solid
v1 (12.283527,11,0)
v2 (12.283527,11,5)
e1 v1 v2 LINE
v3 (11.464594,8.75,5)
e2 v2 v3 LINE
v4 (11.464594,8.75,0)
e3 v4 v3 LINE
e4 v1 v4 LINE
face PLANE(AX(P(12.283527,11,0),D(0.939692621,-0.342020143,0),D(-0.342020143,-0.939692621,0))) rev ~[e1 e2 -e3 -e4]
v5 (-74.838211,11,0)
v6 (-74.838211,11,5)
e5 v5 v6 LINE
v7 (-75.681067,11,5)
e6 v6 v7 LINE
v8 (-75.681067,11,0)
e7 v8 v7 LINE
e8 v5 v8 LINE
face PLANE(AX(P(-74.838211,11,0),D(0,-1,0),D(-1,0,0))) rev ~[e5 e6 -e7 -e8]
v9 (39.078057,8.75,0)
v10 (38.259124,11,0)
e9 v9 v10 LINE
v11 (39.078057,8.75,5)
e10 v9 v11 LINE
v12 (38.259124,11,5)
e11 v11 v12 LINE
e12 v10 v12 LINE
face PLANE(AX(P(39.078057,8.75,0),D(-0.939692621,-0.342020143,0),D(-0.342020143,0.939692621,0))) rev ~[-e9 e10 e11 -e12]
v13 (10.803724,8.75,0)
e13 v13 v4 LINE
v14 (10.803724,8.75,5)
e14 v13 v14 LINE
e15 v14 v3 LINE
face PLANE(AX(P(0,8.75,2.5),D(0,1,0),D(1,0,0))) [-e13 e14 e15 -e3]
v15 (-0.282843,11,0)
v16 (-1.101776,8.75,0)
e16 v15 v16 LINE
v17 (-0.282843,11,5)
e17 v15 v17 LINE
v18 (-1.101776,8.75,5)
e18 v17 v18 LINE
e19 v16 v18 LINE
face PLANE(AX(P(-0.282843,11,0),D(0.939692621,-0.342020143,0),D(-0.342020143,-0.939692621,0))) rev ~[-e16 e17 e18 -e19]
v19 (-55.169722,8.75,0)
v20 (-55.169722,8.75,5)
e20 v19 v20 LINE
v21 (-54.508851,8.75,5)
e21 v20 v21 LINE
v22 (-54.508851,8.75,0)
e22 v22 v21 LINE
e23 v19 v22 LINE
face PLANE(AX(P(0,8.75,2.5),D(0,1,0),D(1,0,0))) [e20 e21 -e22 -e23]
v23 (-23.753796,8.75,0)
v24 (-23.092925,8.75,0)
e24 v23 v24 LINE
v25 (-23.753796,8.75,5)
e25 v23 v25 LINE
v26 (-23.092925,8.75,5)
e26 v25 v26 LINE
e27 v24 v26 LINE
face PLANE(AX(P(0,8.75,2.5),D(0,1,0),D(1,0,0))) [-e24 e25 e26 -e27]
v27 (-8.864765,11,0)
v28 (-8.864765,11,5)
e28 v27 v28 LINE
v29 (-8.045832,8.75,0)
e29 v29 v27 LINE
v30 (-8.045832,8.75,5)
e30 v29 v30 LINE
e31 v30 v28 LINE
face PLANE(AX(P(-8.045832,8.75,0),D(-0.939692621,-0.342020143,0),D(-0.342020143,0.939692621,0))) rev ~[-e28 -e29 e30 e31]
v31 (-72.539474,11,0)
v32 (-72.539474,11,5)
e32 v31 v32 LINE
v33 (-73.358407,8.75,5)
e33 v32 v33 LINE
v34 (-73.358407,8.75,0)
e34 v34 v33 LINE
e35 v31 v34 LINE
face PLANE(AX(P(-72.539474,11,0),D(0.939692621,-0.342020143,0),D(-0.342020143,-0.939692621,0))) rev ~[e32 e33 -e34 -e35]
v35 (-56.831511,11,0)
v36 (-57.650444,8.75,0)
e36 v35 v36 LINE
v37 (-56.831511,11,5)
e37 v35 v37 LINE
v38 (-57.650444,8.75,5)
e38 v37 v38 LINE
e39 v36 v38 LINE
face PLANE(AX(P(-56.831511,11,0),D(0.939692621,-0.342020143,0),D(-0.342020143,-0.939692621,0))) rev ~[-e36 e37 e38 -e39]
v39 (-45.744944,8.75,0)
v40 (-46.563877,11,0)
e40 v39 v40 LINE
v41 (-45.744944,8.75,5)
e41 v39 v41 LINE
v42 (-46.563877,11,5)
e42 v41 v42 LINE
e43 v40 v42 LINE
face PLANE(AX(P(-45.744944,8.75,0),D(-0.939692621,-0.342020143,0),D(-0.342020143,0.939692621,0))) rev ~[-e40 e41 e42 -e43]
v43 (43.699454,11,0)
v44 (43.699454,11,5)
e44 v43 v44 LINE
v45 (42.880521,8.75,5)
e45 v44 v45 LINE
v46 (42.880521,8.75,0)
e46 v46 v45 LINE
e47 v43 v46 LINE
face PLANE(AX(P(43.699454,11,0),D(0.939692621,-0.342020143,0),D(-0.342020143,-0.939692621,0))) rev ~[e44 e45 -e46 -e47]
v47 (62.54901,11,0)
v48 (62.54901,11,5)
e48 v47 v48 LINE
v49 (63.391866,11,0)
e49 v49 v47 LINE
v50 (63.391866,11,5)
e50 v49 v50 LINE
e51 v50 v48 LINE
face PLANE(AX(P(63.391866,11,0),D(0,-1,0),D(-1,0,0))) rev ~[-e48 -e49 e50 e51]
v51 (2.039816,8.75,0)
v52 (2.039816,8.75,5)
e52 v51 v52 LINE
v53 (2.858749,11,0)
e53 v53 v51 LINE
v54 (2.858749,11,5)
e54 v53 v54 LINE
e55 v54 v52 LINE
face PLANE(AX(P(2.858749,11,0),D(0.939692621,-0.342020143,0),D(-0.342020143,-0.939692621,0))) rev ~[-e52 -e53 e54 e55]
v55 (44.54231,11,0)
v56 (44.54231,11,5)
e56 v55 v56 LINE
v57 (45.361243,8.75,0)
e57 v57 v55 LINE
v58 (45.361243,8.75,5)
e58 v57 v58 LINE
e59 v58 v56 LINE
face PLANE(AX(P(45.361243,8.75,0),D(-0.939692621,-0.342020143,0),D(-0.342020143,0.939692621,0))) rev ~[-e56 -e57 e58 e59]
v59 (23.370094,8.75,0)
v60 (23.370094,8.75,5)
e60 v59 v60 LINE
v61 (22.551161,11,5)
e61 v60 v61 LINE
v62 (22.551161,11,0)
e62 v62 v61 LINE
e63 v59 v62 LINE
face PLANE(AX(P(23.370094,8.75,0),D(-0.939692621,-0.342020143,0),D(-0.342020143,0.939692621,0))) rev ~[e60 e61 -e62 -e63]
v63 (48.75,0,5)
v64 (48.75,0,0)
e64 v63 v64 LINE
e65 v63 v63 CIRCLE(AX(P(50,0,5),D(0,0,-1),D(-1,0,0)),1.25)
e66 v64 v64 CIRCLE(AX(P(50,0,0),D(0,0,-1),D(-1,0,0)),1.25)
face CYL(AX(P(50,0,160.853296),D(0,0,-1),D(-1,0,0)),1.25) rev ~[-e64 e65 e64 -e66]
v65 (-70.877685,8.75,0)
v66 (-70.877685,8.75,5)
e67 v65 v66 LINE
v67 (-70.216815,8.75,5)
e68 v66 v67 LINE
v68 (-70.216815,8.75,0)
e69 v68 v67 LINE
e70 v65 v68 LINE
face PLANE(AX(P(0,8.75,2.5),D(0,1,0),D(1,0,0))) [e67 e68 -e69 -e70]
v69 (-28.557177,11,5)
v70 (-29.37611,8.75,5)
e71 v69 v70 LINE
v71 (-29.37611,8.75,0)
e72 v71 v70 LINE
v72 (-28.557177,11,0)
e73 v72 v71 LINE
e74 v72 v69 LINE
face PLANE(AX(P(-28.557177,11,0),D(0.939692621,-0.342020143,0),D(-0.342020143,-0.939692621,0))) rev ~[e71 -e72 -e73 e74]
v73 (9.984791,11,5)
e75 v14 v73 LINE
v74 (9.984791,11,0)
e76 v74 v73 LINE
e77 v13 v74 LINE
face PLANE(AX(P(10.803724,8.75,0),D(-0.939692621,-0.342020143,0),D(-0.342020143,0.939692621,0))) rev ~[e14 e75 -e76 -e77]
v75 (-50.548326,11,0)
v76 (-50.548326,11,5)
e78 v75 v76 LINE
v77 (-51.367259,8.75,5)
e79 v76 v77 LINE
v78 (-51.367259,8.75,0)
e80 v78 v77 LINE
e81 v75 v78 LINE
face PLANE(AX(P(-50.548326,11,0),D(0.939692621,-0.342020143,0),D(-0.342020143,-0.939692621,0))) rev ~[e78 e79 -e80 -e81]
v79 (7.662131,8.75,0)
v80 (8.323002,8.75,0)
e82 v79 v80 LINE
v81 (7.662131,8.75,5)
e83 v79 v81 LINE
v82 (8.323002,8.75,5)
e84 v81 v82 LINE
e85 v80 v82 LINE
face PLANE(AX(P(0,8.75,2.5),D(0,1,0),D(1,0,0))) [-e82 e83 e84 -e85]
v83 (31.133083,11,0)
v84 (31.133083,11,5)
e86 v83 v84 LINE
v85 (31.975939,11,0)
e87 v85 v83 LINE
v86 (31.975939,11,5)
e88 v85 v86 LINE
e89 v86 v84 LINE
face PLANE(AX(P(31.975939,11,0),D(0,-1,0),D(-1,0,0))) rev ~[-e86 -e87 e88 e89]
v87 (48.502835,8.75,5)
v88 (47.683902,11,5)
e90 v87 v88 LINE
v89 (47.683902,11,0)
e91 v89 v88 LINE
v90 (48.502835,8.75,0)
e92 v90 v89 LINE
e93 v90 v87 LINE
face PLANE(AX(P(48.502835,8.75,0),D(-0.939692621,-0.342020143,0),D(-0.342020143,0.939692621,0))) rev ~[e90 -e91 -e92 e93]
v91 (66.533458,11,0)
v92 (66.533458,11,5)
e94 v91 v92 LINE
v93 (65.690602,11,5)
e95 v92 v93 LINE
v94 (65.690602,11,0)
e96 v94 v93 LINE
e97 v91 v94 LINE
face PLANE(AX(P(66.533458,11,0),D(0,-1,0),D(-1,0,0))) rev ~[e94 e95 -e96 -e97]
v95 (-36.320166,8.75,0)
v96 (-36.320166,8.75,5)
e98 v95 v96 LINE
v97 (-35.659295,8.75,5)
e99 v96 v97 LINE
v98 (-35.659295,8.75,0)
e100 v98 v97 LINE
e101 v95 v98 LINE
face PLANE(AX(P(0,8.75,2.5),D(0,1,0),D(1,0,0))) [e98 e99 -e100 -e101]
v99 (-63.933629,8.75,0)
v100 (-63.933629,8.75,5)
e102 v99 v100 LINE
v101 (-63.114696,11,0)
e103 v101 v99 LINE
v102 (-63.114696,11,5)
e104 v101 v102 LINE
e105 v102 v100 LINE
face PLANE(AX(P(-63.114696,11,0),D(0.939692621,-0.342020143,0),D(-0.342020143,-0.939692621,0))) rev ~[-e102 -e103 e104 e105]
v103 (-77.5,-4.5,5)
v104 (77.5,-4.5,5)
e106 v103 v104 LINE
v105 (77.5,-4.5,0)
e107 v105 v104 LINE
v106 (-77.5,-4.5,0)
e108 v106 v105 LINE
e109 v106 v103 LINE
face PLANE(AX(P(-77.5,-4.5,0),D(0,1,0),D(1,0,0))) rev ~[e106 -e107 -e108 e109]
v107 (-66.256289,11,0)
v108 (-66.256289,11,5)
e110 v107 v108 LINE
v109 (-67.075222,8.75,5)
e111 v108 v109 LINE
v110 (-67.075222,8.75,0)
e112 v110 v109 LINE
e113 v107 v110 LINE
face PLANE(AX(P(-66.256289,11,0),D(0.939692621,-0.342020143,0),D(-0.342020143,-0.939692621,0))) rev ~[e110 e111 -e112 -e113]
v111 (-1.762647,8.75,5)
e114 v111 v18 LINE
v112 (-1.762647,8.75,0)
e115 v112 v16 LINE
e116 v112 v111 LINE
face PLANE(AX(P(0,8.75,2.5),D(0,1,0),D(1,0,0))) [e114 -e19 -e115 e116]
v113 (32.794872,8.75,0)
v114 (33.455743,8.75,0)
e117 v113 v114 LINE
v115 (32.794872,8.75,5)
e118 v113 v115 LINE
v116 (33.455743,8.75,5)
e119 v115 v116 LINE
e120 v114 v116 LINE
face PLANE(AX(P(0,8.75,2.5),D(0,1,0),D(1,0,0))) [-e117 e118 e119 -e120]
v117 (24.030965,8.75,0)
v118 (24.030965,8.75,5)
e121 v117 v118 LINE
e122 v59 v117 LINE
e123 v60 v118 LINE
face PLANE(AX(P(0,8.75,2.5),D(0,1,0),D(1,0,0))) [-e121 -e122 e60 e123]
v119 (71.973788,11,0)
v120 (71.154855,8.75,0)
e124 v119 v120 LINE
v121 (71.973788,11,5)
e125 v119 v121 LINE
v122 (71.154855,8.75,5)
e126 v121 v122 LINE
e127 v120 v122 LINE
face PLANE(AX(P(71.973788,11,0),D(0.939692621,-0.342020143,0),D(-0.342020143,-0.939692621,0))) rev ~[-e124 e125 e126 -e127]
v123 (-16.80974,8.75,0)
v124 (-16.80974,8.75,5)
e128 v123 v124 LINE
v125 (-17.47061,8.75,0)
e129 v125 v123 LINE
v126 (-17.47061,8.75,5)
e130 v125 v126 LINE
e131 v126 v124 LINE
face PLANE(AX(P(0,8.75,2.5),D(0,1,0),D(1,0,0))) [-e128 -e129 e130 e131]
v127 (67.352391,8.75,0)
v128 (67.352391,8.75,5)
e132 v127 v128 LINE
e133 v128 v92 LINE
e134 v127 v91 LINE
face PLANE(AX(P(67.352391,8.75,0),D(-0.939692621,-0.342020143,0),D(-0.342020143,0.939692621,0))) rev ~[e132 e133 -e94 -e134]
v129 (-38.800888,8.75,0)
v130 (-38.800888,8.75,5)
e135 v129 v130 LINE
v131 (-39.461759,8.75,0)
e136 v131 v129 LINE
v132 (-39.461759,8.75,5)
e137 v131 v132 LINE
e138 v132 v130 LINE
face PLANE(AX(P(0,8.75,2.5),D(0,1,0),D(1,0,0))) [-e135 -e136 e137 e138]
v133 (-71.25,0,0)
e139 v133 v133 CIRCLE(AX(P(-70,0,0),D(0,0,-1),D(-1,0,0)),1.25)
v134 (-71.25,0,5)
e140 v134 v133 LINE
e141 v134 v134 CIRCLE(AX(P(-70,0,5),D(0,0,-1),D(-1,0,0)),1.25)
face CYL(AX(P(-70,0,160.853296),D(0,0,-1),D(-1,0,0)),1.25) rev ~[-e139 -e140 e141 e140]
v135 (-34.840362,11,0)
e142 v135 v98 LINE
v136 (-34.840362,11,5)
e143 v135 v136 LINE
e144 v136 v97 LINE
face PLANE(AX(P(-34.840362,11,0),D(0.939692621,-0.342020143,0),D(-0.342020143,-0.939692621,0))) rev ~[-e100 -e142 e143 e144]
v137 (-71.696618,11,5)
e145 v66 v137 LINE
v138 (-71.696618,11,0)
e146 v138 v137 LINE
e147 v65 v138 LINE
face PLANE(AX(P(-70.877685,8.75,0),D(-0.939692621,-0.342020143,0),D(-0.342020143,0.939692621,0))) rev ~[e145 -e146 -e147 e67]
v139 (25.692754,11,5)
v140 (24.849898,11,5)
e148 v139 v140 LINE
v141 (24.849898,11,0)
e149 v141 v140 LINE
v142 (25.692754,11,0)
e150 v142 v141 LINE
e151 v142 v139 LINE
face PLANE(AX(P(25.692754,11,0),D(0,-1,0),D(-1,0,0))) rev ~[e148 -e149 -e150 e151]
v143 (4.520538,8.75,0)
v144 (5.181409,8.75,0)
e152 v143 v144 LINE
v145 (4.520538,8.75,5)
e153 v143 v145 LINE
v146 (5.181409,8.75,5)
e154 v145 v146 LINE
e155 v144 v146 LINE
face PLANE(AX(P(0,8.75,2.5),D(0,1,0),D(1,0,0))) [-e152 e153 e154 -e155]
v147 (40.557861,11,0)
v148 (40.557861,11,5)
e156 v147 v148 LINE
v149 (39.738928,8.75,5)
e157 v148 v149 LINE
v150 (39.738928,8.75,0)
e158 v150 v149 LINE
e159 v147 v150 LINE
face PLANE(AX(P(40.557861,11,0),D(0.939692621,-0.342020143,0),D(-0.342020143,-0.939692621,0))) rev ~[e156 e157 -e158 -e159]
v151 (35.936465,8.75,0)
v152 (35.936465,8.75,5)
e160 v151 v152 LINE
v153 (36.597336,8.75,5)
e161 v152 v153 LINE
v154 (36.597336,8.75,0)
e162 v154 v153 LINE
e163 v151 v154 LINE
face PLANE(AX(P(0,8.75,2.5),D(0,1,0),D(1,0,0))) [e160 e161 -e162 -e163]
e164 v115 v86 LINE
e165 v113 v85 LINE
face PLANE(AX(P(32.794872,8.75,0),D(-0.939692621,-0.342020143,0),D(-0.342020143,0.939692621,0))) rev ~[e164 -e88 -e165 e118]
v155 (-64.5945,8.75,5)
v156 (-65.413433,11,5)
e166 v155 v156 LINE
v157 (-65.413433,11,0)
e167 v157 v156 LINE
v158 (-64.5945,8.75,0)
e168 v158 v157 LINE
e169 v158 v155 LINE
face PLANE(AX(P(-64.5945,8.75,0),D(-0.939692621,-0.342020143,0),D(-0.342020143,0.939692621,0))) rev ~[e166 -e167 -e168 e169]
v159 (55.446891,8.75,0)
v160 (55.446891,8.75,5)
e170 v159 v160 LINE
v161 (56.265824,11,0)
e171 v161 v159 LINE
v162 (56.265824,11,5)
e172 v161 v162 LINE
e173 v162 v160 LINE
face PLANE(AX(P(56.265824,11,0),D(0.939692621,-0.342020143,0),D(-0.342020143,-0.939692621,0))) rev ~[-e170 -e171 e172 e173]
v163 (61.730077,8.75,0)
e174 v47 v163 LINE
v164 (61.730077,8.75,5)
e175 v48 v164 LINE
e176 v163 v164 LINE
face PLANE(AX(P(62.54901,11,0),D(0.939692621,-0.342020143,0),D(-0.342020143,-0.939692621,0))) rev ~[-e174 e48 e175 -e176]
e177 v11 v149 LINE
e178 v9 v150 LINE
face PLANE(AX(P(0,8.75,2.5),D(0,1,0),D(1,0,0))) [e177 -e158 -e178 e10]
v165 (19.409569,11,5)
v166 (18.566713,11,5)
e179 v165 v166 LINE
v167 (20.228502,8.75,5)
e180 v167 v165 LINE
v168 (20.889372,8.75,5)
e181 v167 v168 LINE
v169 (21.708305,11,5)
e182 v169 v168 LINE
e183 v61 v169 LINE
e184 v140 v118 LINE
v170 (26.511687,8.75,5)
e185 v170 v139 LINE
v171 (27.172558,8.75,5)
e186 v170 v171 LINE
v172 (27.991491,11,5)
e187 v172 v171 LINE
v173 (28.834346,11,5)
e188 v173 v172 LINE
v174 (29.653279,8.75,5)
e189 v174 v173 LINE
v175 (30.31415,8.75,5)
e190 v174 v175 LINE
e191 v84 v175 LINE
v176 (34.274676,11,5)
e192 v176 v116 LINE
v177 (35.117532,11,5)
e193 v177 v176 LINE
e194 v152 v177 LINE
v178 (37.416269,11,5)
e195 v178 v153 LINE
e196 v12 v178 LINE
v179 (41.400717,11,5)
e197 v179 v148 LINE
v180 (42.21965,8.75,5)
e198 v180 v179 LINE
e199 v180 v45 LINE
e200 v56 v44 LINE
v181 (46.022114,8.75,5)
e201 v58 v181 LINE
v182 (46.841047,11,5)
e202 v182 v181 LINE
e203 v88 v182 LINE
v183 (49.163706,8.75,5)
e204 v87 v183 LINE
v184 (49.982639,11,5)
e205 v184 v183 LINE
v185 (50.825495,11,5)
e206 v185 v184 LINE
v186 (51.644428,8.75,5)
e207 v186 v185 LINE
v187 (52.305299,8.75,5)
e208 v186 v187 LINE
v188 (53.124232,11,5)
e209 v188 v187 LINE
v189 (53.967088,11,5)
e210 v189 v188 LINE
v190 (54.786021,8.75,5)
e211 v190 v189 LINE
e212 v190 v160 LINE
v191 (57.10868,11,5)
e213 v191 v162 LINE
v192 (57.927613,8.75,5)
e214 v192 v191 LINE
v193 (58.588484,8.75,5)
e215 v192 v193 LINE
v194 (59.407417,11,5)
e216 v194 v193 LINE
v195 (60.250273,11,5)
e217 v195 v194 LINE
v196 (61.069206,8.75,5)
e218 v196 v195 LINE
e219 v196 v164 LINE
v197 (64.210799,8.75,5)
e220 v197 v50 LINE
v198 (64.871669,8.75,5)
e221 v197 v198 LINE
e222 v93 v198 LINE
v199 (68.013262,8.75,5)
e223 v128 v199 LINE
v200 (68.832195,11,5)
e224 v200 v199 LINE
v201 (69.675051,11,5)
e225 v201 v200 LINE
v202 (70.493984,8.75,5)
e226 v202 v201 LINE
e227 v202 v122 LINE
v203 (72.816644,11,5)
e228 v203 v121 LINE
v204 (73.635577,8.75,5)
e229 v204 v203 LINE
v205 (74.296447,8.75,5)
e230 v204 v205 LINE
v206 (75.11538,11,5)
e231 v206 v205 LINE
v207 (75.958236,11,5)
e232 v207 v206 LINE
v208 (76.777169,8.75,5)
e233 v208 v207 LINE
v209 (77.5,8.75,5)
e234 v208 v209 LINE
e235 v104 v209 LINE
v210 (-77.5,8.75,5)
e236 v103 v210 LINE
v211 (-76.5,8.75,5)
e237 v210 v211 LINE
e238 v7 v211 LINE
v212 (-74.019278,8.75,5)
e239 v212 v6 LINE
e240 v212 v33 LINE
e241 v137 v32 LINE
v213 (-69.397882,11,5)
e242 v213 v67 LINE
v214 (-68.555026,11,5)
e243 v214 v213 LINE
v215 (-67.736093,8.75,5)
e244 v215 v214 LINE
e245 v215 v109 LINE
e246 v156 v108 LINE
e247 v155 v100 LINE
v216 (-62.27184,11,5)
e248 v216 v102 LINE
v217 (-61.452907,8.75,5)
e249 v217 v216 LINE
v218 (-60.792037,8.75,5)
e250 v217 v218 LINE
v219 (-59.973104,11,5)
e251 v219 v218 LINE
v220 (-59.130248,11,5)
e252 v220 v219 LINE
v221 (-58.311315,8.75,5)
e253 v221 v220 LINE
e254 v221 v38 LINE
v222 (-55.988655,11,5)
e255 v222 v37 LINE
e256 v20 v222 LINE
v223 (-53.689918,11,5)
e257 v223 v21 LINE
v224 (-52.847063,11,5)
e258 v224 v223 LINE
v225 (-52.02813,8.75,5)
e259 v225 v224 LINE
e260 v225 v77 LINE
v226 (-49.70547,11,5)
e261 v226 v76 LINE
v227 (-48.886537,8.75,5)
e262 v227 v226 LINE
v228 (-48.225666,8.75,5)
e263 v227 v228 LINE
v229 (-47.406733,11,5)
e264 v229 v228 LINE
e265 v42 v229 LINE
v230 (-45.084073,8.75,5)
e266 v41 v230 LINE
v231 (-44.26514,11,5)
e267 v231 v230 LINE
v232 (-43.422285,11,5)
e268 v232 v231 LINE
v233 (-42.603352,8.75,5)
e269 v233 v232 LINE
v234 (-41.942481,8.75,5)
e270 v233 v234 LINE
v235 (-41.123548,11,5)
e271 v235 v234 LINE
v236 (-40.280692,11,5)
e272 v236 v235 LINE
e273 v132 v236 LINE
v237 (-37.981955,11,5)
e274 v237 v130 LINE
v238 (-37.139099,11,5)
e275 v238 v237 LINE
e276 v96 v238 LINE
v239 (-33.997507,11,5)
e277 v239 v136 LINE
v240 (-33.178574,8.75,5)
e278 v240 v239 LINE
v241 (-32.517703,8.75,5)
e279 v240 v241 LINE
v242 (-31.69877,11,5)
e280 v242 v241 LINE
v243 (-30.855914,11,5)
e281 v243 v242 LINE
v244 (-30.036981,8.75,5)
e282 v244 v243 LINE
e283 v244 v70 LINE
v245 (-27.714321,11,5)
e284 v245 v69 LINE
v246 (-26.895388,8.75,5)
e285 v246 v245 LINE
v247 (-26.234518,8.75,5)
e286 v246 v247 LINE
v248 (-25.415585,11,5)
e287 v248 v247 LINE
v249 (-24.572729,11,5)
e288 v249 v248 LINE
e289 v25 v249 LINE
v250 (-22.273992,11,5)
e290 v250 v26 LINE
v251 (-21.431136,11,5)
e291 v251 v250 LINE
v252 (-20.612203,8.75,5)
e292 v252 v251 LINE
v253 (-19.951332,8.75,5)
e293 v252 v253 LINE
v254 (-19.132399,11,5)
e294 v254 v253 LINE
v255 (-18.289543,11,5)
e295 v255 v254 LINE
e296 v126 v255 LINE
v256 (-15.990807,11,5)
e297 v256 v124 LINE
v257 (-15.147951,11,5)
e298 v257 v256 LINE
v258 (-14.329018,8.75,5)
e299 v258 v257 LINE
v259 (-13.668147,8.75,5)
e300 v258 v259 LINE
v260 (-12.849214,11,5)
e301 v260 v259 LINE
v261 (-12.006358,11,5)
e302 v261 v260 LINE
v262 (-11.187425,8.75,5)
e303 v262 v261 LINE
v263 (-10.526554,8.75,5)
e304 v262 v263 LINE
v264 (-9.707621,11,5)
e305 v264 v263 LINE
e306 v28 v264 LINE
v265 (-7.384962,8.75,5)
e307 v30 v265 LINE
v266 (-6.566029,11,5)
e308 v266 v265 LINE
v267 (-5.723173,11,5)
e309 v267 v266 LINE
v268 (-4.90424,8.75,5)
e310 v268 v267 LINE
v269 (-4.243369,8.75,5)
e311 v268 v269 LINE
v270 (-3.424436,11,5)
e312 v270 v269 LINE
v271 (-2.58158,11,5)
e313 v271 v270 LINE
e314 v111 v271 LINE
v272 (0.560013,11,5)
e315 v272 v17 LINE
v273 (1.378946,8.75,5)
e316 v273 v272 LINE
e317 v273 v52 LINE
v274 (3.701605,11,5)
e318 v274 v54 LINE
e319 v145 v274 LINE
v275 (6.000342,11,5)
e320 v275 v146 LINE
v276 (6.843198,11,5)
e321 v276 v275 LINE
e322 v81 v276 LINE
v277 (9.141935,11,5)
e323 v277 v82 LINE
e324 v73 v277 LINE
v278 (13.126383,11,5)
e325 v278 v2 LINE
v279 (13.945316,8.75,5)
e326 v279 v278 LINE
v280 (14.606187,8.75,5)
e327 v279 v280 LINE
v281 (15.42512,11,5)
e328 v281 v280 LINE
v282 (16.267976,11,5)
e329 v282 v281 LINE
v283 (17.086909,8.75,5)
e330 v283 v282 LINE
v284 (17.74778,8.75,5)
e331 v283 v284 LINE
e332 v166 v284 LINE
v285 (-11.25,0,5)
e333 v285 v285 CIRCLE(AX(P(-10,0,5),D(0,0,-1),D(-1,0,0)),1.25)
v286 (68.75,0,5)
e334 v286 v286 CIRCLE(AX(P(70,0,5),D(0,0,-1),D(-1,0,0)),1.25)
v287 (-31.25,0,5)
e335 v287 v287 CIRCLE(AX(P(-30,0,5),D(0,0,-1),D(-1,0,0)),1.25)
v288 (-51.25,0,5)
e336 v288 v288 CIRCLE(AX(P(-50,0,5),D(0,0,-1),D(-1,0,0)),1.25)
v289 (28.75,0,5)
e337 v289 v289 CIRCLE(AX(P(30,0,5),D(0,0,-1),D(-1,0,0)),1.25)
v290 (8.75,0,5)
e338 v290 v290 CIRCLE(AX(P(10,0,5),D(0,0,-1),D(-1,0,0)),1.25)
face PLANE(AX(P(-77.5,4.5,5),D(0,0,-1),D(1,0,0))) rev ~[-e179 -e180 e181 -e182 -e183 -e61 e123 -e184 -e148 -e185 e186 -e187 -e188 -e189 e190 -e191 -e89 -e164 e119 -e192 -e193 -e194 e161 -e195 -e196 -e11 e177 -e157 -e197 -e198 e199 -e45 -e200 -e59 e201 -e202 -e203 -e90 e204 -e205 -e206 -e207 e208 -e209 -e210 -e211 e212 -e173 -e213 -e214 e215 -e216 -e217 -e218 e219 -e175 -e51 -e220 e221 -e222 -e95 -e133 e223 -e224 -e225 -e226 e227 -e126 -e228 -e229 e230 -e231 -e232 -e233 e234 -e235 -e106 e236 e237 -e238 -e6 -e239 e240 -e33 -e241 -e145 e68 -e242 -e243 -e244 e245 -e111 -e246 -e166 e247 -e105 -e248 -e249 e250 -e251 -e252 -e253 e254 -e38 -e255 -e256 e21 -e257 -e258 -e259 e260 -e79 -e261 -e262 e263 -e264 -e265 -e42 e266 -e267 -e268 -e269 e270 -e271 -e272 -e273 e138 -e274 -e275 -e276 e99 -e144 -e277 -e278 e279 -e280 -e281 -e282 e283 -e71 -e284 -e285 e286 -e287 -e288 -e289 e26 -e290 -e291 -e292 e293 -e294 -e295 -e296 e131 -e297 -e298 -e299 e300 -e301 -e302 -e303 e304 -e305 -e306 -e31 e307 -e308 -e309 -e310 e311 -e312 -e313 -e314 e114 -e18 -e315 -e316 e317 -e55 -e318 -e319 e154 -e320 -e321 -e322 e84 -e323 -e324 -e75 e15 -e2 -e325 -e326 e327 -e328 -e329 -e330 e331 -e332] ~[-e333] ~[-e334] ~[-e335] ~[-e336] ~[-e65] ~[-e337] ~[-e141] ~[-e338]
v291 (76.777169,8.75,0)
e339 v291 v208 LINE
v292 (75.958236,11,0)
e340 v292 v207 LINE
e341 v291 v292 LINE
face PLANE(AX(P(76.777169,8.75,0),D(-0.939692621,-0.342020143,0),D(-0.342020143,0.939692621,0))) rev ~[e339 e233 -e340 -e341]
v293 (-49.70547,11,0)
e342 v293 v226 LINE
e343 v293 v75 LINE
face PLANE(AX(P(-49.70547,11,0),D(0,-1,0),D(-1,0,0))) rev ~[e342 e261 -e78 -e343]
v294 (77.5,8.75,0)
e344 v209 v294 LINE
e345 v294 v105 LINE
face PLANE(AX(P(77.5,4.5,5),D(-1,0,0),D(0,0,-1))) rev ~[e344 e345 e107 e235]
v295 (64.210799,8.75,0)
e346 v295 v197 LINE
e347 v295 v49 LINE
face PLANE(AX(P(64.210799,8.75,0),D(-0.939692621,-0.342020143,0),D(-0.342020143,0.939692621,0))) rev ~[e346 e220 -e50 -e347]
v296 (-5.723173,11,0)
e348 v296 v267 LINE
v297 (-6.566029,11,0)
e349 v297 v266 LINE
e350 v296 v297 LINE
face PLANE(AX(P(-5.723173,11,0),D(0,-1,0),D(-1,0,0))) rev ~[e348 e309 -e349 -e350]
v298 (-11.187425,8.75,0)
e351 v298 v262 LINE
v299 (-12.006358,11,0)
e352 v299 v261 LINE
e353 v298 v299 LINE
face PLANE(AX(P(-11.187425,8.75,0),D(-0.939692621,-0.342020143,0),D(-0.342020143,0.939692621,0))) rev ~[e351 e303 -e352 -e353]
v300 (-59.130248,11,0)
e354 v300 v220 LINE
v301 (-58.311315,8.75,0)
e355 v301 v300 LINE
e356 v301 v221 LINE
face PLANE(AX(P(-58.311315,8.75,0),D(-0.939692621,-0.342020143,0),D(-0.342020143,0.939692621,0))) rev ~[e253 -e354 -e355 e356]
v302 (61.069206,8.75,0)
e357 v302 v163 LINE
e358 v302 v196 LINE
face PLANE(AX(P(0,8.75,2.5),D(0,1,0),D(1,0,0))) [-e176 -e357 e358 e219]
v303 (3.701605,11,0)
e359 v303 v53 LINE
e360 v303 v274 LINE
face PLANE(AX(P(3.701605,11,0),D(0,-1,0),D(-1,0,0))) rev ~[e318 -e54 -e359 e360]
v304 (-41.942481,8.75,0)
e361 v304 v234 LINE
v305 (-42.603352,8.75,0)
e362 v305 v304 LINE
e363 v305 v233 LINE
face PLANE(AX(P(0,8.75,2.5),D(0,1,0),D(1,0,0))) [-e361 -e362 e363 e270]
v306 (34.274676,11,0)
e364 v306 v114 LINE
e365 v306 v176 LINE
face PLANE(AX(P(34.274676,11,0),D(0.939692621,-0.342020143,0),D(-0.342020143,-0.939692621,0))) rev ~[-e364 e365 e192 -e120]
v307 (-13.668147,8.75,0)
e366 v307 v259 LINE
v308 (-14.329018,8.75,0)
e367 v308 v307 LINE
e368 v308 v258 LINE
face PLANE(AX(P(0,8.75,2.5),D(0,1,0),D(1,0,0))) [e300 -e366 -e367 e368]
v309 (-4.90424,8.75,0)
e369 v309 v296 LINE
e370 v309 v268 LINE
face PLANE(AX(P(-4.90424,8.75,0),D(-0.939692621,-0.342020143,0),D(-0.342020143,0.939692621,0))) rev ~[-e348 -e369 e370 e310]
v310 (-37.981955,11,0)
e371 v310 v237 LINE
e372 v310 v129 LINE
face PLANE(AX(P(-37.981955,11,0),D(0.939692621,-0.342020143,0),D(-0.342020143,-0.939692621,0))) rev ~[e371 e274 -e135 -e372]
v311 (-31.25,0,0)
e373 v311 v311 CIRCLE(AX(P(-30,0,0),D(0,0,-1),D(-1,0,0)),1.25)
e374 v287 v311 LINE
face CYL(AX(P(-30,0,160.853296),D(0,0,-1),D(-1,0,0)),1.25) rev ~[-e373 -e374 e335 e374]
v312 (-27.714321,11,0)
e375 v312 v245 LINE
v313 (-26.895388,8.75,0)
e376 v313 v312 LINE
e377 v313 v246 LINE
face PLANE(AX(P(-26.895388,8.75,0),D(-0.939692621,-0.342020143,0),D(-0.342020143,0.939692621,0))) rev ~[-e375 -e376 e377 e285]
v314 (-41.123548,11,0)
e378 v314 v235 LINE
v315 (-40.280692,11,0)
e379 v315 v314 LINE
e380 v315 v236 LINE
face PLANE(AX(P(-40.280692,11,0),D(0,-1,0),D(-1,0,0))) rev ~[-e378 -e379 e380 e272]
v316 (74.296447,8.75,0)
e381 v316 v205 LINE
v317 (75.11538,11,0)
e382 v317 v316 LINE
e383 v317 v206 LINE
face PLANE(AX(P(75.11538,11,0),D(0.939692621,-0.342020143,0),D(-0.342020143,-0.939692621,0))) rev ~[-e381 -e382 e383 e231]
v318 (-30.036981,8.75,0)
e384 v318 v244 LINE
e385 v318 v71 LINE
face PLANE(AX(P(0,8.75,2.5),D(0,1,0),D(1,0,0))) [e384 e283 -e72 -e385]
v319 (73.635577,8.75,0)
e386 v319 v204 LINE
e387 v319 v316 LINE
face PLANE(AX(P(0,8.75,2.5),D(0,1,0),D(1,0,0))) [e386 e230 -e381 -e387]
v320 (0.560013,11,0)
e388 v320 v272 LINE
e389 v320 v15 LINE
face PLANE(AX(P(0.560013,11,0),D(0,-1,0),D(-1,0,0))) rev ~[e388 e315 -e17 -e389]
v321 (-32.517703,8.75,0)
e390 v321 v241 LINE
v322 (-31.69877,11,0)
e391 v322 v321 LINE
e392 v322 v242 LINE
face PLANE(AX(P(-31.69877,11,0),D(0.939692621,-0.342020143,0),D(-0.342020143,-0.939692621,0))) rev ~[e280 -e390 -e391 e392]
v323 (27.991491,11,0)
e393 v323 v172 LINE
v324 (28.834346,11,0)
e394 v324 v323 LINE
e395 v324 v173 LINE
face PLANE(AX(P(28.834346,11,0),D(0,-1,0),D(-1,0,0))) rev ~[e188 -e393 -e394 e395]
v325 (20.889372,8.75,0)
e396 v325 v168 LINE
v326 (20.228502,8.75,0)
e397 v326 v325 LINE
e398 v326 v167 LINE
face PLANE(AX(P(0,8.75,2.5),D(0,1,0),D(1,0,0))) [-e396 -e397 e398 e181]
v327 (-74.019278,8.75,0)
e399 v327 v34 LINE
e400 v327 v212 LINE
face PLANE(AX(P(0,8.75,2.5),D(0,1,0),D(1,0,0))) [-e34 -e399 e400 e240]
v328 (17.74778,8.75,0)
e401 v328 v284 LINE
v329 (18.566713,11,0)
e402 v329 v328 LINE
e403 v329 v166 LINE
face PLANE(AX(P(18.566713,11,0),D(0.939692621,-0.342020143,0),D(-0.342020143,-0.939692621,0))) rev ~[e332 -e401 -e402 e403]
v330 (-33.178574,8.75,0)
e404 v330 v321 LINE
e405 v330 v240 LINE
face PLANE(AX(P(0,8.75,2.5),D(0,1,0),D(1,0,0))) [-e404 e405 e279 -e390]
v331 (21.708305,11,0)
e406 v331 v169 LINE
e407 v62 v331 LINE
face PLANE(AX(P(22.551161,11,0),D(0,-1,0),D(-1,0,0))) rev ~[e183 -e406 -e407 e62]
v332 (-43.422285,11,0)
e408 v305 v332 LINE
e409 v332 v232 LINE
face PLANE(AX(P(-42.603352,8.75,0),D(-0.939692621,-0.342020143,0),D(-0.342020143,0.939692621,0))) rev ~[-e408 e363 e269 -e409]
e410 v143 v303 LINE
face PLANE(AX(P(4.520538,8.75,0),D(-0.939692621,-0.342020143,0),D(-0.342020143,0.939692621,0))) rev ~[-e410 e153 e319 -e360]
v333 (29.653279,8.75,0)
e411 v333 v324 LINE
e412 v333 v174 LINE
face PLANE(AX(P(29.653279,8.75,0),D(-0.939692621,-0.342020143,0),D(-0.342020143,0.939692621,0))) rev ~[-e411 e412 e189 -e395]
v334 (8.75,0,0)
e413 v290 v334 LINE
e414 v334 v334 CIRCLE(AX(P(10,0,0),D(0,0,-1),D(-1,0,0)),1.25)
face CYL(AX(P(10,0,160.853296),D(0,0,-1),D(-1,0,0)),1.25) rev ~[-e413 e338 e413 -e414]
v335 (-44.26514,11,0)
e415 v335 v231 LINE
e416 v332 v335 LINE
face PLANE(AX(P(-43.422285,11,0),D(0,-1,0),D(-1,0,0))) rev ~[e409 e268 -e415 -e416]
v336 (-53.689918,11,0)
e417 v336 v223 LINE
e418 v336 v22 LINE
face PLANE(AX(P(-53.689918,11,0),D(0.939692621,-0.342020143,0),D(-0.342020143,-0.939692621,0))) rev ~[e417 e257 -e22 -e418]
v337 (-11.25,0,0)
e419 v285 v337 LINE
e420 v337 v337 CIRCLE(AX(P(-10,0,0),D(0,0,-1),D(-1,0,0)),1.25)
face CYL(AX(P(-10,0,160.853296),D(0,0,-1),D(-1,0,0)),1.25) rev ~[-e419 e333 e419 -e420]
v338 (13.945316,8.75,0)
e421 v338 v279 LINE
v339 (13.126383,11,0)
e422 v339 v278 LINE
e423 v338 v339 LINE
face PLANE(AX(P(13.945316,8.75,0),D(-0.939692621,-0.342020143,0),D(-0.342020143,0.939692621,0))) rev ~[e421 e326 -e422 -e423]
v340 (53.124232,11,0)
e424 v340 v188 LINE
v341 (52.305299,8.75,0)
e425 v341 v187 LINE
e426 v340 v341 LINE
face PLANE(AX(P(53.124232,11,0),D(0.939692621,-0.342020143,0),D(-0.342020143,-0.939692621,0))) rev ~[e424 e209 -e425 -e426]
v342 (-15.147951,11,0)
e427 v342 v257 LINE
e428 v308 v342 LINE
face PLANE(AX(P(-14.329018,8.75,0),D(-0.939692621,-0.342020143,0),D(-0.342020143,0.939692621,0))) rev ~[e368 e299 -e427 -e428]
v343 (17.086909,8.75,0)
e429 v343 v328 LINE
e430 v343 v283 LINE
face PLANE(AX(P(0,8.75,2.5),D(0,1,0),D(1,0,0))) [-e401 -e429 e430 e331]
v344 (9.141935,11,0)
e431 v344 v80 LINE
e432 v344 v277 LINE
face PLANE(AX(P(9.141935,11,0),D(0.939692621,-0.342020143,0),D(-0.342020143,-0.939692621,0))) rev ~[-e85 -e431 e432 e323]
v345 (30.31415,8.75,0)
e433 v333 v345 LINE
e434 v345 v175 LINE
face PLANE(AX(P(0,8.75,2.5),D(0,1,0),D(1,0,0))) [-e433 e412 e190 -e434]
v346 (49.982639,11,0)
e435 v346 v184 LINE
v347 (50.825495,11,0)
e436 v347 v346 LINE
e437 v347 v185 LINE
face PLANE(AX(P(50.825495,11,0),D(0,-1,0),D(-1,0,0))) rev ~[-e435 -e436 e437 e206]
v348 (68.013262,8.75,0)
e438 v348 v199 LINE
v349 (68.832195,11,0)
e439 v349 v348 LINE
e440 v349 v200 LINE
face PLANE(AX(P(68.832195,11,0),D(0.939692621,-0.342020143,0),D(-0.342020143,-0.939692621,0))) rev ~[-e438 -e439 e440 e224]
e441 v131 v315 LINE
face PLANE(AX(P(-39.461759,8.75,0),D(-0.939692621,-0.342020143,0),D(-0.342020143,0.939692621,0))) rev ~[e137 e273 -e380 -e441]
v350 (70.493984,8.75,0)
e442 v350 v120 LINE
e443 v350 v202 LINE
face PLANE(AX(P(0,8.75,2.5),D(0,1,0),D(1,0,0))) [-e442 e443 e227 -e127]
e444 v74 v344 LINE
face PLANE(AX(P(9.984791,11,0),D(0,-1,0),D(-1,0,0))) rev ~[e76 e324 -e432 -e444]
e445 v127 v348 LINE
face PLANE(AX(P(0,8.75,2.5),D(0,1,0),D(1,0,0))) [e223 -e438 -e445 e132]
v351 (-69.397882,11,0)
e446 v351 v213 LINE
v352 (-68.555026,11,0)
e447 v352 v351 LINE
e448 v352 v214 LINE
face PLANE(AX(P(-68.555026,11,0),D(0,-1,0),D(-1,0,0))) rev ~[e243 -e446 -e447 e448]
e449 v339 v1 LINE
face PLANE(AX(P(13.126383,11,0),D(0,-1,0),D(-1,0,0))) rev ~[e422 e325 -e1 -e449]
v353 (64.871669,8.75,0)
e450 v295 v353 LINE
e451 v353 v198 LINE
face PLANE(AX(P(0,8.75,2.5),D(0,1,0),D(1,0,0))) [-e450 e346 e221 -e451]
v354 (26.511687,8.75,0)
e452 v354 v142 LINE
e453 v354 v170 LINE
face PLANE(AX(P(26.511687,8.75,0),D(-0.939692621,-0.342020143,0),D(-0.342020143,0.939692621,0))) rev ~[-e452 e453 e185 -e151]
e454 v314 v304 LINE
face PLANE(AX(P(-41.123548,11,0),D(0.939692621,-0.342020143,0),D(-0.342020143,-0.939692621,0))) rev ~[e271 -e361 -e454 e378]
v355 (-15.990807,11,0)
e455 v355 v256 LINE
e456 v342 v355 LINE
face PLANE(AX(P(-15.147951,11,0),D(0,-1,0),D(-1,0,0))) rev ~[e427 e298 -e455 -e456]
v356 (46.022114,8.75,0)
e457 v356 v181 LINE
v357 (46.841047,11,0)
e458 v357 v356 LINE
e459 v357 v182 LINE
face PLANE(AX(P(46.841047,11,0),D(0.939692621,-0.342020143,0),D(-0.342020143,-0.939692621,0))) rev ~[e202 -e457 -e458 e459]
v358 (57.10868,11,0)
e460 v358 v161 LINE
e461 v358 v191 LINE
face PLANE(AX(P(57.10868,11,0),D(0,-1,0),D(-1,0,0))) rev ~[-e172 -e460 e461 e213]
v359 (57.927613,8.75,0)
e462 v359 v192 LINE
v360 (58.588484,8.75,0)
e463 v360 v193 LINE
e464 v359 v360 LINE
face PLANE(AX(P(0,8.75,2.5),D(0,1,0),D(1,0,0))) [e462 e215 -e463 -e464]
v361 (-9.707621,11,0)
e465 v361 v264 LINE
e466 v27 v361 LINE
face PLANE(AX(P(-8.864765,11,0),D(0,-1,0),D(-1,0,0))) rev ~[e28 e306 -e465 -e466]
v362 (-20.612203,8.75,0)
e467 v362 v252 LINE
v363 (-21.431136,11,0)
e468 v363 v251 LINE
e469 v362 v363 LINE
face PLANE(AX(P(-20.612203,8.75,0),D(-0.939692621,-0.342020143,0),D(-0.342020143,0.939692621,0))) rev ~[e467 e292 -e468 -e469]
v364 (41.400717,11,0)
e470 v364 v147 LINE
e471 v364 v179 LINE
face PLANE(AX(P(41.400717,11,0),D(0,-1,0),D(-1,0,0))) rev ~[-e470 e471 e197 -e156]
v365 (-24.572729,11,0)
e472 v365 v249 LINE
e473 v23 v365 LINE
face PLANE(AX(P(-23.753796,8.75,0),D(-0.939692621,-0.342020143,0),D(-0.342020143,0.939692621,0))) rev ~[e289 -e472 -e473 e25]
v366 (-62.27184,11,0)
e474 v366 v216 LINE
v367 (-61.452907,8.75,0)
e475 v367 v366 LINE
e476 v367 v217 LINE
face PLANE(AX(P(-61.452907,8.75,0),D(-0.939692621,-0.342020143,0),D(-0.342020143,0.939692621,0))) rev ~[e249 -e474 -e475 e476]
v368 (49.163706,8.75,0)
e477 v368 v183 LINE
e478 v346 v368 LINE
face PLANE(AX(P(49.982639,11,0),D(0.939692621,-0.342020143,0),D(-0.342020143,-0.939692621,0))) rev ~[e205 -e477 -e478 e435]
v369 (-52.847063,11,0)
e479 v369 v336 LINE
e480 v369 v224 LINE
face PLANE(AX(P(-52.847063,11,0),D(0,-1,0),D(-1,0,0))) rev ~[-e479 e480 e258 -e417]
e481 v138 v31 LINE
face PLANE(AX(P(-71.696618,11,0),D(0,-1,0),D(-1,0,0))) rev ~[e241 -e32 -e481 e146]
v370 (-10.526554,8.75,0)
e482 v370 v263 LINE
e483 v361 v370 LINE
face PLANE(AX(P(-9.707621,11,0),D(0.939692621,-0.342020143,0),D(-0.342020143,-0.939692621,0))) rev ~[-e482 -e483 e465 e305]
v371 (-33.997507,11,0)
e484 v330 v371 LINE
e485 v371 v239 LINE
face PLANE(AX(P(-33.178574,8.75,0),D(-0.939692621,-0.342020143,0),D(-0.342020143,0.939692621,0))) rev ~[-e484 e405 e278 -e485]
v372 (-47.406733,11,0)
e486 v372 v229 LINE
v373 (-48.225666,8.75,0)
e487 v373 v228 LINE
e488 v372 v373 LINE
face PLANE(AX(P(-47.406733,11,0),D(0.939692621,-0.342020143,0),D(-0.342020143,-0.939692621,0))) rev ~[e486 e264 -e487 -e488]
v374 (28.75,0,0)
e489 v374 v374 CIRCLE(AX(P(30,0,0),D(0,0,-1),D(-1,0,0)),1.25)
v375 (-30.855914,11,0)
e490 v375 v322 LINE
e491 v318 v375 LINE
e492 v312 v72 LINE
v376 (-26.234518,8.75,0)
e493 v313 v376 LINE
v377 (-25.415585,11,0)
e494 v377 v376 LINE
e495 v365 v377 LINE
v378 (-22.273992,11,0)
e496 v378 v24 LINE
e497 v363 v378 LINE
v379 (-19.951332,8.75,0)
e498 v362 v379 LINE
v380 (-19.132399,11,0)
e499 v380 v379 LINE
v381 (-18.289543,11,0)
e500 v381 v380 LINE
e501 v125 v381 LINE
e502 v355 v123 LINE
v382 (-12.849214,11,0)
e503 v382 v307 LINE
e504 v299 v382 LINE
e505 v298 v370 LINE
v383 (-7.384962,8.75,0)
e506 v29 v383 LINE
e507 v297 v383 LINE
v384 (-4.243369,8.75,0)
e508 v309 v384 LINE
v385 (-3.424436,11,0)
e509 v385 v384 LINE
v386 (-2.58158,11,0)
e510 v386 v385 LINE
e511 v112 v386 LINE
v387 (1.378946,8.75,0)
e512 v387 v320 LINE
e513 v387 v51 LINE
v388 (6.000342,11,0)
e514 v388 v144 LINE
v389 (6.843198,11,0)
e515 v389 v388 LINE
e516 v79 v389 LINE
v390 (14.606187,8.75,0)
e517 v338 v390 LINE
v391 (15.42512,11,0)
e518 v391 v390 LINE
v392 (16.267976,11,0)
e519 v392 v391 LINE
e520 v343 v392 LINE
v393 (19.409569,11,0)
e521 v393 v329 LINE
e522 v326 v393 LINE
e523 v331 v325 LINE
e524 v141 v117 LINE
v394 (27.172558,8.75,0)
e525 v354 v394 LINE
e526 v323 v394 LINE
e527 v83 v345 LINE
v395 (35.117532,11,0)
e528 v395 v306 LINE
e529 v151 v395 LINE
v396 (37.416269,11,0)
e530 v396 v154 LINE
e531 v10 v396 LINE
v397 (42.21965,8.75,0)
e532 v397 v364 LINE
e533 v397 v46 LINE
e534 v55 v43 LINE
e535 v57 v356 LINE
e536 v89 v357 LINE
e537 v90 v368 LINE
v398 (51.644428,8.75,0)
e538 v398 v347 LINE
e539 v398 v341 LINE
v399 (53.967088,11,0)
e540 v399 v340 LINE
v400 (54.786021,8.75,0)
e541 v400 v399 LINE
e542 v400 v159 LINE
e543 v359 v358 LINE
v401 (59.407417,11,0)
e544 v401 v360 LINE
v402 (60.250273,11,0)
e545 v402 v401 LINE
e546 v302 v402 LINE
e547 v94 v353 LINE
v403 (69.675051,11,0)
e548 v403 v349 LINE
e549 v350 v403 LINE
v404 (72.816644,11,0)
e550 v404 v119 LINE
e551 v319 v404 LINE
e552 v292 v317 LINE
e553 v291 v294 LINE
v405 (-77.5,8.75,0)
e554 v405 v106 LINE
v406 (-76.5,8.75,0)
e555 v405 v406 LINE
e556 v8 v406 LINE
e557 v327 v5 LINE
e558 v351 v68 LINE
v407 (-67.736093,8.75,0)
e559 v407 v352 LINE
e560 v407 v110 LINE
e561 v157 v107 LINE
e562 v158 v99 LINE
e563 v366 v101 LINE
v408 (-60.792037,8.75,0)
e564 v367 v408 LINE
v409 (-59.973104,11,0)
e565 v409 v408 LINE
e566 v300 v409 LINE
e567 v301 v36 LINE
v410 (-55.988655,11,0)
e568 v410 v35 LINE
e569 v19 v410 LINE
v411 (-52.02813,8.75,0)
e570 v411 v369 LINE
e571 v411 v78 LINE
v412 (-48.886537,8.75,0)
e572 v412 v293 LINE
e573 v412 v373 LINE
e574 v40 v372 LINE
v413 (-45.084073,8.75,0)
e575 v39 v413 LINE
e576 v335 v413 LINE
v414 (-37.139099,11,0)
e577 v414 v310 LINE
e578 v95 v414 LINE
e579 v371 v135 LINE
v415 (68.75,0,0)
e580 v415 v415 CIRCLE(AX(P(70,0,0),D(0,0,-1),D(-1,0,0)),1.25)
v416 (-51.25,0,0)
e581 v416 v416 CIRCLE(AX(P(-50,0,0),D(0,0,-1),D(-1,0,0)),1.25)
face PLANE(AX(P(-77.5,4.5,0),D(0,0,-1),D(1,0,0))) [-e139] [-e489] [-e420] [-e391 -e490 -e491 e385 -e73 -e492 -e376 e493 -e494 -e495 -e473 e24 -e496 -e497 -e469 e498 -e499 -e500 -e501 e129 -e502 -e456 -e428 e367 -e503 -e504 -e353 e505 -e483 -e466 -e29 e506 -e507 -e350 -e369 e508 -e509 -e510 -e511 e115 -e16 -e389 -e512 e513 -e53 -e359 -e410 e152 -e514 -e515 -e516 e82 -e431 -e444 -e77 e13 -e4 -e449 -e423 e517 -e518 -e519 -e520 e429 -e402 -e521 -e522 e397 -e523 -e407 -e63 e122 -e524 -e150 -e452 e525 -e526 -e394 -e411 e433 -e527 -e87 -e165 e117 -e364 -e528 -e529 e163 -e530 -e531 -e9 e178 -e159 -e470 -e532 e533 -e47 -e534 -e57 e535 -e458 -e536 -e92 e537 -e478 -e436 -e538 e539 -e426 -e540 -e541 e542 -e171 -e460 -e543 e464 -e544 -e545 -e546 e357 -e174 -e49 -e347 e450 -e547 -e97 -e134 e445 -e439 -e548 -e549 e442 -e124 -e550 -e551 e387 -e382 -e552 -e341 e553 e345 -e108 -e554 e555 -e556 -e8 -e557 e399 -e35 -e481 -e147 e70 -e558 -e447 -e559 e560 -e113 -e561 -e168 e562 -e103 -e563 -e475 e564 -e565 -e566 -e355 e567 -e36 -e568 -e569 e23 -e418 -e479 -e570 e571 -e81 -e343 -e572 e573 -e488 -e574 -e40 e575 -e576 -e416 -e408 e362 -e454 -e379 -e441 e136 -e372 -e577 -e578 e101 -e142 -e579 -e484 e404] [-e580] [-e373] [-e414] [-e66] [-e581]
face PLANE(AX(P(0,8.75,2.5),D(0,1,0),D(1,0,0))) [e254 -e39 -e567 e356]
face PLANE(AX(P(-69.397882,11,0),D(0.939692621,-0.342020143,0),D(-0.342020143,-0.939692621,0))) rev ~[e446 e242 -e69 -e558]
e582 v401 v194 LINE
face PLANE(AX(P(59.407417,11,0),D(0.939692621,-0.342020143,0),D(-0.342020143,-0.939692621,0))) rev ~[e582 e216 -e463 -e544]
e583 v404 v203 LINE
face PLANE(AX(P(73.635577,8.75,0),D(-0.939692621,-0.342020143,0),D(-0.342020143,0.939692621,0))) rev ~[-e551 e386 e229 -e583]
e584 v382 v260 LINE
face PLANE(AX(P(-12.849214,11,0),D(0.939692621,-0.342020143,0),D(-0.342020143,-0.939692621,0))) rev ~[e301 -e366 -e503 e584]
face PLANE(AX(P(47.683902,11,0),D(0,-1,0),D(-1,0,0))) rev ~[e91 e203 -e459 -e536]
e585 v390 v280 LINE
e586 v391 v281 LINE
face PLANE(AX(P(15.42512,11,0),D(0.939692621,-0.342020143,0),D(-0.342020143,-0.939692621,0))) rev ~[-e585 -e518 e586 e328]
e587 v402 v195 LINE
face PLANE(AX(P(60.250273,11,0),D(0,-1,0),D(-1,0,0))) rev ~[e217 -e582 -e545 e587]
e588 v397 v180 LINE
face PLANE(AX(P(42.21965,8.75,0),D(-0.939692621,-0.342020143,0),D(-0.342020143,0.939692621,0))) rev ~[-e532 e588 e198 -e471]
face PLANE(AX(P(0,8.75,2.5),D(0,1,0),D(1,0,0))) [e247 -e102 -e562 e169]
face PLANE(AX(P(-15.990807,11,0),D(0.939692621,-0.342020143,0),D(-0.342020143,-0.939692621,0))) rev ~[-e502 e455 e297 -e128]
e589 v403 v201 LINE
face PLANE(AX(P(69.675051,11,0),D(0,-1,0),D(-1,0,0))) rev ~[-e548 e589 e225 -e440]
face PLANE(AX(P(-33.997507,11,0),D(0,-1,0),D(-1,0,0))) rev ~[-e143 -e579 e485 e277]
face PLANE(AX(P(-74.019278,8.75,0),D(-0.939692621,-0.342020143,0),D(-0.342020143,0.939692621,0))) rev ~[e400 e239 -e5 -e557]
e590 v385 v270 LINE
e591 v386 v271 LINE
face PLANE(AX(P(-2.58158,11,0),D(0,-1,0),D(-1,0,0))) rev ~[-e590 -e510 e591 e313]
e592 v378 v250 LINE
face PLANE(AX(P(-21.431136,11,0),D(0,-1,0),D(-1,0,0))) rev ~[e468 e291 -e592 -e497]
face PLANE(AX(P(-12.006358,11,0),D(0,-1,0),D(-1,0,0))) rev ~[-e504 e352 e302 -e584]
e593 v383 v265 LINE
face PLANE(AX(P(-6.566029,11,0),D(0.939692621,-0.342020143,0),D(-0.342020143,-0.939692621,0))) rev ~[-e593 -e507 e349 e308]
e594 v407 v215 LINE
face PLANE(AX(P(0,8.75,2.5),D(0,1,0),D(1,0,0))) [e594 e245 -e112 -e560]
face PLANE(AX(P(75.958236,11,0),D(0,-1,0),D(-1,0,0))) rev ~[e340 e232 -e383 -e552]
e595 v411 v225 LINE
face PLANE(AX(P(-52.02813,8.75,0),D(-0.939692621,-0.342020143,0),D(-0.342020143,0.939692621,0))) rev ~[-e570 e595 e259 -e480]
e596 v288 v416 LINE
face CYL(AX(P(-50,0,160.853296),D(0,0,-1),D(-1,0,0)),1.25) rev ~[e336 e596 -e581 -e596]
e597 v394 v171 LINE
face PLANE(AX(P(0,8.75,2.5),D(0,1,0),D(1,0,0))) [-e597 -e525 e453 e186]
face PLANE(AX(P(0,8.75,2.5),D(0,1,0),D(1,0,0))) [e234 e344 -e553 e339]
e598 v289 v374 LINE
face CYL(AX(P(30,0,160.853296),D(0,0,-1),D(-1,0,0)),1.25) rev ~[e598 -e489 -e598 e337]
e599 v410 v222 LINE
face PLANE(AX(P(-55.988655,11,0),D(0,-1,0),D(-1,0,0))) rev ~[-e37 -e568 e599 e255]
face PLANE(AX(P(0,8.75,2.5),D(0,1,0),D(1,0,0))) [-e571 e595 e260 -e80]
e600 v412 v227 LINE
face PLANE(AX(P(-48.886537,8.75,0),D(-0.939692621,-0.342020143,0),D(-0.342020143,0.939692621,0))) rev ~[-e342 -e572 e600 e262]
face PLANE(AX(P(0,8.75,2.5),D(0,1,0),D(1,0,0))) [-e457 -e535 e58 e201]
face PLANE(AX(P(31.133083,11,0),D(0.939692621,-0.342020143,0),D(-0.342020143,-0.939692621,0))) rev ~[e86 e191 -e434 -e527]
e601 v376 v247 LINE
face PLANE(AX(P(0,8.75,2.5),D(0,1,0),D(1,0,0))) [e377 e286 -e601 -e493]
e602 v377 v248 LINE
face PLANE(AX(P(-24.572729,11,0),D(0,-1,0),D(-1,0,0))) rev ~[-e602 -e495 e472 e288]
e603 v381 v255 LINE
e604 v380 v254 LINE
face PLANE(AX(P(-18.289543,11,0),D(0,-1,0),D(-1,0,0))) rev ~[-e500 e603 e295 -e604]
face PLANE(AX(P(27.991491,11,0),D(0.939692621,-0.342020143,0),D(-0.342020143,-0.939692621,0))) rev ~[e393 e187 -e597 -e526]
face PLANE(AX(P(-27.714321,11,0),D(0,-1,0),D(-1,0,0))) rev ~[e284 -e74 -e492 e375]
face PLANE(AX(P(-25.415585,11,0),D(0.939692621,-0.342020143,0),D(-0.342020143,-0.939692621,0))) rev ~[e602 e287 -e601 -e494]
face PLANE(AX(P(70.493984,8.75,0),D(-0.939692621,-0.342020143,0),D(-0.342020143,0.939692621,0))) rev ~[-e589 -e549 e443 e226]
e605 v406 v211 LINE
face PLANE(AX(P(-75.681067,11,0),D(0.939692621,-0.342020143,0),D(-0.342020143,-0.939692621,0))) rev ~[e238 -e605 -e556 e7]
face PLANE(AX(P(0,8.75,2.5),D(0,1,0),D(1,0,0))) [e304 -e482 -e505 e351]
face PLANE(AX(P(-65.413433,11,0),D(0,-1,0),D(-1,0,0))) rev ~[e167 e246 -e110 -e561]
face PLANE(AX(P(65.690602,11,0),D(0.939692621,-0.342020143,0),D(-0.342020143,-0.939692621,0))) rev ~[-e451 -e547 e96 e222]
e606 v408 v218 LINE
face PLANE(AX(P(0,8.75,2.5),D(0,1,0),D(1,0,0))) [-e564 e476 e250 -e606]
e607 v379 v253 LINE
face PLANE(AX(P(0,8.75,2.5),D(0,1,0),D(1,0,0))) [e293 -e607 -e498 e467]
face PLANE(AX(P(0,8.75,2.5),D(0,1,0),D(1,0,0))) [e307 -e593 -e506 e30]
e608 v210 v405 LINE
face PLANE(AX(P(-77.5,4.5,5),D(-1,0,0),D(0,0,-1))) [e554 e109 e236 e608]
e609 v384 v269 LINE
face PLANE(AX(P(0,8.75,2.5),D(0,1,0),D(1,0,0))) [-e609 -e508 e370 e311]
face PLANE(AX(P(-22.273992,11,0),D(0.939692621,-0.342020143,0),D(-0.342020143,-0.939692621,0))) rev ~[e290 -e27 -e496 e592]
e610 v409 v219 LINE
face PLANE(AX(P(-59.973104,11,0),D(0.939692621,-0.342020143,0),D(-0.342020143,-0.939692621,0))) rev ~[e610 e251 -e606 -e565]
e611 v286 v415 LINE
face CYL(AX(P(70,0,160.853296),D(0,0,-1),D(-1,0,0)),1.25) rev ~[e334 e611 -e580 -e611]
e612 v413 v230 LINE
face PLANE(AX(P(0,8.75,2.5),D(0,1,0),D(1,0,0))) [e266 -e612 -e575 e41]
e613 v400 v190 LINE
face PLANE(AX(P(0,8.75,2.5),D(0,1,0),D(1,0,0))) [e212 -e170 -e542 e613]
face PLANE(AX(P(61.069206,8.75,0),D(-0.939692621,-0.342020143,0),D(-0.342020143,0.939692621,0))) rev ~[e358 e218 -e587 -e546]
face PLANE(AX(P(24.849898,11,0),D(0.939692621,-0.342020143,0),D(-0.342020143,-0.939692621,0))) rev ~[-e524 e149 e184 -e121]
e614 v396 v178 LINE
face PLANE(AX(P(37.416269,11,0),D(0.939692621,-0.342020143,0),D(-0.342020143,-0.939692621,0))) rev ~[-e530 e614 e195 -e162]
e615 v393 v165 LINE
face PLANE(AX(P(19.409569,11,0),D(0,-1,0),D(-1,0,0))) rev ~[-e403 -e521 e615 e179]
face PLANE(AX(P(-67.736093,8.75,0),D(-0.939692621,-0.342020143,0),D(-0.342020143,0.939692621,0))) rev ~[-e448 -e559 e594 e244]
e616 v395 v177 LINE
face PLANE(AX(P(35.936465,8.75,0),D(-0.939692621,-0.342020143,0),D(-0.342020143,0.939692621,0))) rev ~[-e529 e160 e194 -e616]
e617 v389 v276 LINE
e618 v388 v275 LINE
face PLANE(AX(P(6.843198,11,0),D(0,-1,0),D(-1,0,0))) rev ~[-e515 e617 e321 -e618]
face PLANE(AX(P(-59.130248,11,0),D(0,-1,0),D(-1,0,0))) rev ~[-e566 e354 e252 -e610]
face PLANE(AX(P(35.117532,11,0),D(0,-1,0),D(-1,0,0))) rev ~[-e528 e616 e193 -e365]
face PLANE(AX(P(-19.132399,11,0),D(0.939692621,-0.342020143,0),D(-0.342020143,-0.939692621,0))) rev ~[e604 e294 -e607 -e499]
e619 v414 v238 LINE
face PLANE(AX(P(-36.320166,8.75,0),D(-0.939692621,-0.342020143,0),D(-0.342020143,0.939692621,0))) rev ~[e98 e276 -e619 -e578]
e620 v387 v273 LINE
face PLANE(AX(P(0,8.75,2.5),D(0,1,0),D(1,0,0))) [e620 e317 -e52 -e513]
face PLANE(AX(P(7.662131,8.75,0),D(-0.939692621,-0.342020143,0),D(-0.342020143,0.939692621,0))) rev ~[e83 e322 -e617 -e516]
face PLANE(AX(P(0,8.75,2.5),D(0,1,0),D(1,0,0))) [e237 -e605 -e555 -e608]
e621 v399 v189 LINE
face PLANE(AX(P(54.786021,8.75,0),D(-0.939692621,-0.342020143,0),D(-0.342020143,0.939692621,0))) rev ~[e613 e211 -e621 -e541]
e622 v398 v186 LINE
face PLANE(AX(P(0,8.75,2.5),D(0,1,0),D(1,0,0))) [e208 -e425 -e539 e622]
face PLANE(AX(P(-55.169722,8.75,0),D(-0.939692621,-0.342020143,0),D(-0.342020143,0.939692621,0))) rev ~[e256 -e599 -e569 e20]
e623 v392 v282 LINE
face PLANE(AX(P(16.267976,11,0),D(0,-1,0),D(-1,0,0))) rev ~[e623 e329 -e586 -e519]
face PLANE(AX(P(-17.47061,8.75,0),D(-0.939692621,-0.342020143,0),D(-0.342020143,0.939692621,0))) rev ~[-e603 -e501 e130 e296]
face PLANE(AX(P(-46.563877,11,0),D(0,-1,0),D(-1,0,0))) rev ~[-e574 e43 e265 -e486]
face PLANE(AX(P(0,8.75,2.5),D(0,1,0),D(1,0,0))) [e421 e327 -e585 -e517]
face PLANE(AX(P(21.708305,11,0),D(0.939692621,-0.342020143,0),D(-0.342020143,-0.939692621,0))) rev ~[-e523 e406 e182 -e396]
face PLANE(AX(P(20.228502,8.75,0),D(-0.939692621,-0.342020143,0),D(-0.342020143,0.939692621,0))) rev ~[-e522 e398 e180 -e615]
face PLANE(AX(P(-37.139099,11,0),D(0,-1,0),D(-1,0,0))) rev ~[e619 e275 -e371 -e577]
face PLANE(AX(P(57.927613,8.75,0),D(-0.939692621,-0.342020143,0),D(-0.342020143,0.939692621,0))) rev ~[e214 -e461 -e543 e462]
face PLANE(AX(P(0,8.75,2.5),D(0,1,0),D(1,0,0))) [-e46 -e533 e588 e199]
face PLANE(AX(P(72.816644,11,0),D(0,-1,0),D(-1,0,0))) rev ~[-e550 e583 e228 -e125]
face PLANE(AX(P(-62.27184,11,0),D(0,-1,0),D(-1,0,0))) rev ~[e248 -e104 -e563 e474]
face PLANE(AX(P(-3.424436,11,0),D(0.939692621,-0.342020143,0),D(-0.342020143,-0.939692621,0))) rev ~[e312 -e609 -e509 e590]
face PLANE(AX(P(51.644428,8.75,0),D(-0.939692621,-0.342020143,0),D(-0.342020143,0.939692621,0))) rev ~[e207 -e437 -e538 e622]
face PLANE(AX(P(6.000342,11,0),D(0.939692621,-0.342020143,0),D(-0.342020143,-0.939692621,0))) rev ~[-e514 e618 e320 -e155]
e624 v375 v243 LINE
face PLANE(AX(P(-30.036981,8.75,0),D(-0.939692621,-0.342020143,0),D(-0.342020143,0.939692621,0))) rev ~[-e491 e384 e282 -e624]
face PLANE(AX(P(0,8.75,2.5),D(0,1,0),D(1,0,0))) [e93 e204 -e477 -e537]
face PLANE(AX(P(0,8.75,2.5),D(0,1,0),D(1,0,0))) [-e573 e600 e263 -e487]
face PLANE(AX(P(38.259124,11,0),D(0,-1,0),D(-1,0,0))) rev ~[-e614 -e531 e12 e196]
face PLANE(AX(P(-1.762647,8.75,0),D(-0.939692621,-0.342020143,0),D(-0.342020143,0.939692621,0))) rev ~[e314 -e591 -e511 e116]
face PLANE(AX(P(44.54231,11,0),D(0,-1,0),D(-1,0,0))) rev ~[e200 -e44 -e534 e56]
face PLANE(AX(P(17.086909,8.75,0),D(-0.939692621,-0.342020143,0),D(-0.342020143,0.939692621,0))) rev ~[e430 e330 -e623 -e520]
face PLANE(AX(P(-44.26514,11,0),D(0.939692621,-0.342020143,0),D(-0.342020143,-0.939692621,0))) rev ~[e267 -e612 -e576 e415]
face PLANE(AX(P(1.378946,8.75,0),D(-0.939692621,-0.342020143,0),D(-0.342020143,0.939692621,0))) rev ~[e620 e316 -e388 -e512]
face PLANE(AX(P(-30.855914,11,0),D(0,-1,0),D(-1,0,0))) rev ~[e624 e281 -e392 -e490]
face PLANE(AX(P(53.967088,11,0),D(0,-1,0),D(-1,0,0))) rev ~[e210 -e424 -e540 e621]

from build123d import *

# Parameters (mm, degrees)
SKETCH_1_W             = 155
SKETCH_1_H             = 9
EXTRUDE_1_DEPTH        = 5
SKETCH_3_W             = 155
SKETCH_3_H             = 5
EXTRUDE_2_DEPTH        = 4.25
EXTRUDE_3_DEPTH        = 5
M3X0_5_1_D             = 2.5
PATTERN_LINEAR_1_COUNT = 49
PATTERN_LINEAR_1_PITCH = 3.141592654
PATTERN_LINEAR_2_COUNT = 8
PATTERN_LINEAR_2_PITCH = 20


with BuildPart() as part:
    # 草圖1 → 填料-伸長1 (new body)
    with BuildSketch(Plane.XY):
        Rectangle(SKETCH_1_W, SKETCH_1_H)
    extrude(amount=EXTRUDE_1_DEPTH)

    # 草圖3 → 填料-伸長2 (add)
    with BuildSketch(Plane(origin=(0, 4.5, 0), x_dir=(1, 0, 0), z_dir=(0, 1, 0))):
        with Locations((0, -2.5)):
            Rectangle(SKETCH_3_W, SKETCH_3_H)
    extrude(amount=EXTRUDE_2_DEPTH)

    # 草圖4 → 填料-伸長3 (add, through all)
    with BuildSketch(Plane.XY):
        Polygon((-76.5, 8.75), (-74.019278088, 8.75), (-74.838211115, 11), (-75.681066973, 11), align=None)
    extrude_3 = extrude(amount=EXTRUDE_3_DEPTH)

    # M3x0.5 螺紋孔1 (through all)
    with Locations(Plane.XY.offset(5)):
        with Locations((-70, 0)):
            m3x0_5_1 = Hole(M3X0_5_1_D / 2)

    # 直線複製排列1: 填料-伸長3 ×49
    with Locations(*[(i * PATTERN_LINEAR_1_PITCH, 0, 0) for i in range(1, PATTERN_LINEAR_1_COUNT)]):
        add(extrude_3)

    # 直線複製排列2: M3x0.5 螺紋孔1 ×8
    with Locations(*[(i * PATTERN_LINEAR_2_PITCH, 0, 0) for i in range(1, PATTERN_LINEAR_2_COUNT)]):
        add(m3x0_5_1, mode=Mode.SUBTRACT)


solid = part.part
